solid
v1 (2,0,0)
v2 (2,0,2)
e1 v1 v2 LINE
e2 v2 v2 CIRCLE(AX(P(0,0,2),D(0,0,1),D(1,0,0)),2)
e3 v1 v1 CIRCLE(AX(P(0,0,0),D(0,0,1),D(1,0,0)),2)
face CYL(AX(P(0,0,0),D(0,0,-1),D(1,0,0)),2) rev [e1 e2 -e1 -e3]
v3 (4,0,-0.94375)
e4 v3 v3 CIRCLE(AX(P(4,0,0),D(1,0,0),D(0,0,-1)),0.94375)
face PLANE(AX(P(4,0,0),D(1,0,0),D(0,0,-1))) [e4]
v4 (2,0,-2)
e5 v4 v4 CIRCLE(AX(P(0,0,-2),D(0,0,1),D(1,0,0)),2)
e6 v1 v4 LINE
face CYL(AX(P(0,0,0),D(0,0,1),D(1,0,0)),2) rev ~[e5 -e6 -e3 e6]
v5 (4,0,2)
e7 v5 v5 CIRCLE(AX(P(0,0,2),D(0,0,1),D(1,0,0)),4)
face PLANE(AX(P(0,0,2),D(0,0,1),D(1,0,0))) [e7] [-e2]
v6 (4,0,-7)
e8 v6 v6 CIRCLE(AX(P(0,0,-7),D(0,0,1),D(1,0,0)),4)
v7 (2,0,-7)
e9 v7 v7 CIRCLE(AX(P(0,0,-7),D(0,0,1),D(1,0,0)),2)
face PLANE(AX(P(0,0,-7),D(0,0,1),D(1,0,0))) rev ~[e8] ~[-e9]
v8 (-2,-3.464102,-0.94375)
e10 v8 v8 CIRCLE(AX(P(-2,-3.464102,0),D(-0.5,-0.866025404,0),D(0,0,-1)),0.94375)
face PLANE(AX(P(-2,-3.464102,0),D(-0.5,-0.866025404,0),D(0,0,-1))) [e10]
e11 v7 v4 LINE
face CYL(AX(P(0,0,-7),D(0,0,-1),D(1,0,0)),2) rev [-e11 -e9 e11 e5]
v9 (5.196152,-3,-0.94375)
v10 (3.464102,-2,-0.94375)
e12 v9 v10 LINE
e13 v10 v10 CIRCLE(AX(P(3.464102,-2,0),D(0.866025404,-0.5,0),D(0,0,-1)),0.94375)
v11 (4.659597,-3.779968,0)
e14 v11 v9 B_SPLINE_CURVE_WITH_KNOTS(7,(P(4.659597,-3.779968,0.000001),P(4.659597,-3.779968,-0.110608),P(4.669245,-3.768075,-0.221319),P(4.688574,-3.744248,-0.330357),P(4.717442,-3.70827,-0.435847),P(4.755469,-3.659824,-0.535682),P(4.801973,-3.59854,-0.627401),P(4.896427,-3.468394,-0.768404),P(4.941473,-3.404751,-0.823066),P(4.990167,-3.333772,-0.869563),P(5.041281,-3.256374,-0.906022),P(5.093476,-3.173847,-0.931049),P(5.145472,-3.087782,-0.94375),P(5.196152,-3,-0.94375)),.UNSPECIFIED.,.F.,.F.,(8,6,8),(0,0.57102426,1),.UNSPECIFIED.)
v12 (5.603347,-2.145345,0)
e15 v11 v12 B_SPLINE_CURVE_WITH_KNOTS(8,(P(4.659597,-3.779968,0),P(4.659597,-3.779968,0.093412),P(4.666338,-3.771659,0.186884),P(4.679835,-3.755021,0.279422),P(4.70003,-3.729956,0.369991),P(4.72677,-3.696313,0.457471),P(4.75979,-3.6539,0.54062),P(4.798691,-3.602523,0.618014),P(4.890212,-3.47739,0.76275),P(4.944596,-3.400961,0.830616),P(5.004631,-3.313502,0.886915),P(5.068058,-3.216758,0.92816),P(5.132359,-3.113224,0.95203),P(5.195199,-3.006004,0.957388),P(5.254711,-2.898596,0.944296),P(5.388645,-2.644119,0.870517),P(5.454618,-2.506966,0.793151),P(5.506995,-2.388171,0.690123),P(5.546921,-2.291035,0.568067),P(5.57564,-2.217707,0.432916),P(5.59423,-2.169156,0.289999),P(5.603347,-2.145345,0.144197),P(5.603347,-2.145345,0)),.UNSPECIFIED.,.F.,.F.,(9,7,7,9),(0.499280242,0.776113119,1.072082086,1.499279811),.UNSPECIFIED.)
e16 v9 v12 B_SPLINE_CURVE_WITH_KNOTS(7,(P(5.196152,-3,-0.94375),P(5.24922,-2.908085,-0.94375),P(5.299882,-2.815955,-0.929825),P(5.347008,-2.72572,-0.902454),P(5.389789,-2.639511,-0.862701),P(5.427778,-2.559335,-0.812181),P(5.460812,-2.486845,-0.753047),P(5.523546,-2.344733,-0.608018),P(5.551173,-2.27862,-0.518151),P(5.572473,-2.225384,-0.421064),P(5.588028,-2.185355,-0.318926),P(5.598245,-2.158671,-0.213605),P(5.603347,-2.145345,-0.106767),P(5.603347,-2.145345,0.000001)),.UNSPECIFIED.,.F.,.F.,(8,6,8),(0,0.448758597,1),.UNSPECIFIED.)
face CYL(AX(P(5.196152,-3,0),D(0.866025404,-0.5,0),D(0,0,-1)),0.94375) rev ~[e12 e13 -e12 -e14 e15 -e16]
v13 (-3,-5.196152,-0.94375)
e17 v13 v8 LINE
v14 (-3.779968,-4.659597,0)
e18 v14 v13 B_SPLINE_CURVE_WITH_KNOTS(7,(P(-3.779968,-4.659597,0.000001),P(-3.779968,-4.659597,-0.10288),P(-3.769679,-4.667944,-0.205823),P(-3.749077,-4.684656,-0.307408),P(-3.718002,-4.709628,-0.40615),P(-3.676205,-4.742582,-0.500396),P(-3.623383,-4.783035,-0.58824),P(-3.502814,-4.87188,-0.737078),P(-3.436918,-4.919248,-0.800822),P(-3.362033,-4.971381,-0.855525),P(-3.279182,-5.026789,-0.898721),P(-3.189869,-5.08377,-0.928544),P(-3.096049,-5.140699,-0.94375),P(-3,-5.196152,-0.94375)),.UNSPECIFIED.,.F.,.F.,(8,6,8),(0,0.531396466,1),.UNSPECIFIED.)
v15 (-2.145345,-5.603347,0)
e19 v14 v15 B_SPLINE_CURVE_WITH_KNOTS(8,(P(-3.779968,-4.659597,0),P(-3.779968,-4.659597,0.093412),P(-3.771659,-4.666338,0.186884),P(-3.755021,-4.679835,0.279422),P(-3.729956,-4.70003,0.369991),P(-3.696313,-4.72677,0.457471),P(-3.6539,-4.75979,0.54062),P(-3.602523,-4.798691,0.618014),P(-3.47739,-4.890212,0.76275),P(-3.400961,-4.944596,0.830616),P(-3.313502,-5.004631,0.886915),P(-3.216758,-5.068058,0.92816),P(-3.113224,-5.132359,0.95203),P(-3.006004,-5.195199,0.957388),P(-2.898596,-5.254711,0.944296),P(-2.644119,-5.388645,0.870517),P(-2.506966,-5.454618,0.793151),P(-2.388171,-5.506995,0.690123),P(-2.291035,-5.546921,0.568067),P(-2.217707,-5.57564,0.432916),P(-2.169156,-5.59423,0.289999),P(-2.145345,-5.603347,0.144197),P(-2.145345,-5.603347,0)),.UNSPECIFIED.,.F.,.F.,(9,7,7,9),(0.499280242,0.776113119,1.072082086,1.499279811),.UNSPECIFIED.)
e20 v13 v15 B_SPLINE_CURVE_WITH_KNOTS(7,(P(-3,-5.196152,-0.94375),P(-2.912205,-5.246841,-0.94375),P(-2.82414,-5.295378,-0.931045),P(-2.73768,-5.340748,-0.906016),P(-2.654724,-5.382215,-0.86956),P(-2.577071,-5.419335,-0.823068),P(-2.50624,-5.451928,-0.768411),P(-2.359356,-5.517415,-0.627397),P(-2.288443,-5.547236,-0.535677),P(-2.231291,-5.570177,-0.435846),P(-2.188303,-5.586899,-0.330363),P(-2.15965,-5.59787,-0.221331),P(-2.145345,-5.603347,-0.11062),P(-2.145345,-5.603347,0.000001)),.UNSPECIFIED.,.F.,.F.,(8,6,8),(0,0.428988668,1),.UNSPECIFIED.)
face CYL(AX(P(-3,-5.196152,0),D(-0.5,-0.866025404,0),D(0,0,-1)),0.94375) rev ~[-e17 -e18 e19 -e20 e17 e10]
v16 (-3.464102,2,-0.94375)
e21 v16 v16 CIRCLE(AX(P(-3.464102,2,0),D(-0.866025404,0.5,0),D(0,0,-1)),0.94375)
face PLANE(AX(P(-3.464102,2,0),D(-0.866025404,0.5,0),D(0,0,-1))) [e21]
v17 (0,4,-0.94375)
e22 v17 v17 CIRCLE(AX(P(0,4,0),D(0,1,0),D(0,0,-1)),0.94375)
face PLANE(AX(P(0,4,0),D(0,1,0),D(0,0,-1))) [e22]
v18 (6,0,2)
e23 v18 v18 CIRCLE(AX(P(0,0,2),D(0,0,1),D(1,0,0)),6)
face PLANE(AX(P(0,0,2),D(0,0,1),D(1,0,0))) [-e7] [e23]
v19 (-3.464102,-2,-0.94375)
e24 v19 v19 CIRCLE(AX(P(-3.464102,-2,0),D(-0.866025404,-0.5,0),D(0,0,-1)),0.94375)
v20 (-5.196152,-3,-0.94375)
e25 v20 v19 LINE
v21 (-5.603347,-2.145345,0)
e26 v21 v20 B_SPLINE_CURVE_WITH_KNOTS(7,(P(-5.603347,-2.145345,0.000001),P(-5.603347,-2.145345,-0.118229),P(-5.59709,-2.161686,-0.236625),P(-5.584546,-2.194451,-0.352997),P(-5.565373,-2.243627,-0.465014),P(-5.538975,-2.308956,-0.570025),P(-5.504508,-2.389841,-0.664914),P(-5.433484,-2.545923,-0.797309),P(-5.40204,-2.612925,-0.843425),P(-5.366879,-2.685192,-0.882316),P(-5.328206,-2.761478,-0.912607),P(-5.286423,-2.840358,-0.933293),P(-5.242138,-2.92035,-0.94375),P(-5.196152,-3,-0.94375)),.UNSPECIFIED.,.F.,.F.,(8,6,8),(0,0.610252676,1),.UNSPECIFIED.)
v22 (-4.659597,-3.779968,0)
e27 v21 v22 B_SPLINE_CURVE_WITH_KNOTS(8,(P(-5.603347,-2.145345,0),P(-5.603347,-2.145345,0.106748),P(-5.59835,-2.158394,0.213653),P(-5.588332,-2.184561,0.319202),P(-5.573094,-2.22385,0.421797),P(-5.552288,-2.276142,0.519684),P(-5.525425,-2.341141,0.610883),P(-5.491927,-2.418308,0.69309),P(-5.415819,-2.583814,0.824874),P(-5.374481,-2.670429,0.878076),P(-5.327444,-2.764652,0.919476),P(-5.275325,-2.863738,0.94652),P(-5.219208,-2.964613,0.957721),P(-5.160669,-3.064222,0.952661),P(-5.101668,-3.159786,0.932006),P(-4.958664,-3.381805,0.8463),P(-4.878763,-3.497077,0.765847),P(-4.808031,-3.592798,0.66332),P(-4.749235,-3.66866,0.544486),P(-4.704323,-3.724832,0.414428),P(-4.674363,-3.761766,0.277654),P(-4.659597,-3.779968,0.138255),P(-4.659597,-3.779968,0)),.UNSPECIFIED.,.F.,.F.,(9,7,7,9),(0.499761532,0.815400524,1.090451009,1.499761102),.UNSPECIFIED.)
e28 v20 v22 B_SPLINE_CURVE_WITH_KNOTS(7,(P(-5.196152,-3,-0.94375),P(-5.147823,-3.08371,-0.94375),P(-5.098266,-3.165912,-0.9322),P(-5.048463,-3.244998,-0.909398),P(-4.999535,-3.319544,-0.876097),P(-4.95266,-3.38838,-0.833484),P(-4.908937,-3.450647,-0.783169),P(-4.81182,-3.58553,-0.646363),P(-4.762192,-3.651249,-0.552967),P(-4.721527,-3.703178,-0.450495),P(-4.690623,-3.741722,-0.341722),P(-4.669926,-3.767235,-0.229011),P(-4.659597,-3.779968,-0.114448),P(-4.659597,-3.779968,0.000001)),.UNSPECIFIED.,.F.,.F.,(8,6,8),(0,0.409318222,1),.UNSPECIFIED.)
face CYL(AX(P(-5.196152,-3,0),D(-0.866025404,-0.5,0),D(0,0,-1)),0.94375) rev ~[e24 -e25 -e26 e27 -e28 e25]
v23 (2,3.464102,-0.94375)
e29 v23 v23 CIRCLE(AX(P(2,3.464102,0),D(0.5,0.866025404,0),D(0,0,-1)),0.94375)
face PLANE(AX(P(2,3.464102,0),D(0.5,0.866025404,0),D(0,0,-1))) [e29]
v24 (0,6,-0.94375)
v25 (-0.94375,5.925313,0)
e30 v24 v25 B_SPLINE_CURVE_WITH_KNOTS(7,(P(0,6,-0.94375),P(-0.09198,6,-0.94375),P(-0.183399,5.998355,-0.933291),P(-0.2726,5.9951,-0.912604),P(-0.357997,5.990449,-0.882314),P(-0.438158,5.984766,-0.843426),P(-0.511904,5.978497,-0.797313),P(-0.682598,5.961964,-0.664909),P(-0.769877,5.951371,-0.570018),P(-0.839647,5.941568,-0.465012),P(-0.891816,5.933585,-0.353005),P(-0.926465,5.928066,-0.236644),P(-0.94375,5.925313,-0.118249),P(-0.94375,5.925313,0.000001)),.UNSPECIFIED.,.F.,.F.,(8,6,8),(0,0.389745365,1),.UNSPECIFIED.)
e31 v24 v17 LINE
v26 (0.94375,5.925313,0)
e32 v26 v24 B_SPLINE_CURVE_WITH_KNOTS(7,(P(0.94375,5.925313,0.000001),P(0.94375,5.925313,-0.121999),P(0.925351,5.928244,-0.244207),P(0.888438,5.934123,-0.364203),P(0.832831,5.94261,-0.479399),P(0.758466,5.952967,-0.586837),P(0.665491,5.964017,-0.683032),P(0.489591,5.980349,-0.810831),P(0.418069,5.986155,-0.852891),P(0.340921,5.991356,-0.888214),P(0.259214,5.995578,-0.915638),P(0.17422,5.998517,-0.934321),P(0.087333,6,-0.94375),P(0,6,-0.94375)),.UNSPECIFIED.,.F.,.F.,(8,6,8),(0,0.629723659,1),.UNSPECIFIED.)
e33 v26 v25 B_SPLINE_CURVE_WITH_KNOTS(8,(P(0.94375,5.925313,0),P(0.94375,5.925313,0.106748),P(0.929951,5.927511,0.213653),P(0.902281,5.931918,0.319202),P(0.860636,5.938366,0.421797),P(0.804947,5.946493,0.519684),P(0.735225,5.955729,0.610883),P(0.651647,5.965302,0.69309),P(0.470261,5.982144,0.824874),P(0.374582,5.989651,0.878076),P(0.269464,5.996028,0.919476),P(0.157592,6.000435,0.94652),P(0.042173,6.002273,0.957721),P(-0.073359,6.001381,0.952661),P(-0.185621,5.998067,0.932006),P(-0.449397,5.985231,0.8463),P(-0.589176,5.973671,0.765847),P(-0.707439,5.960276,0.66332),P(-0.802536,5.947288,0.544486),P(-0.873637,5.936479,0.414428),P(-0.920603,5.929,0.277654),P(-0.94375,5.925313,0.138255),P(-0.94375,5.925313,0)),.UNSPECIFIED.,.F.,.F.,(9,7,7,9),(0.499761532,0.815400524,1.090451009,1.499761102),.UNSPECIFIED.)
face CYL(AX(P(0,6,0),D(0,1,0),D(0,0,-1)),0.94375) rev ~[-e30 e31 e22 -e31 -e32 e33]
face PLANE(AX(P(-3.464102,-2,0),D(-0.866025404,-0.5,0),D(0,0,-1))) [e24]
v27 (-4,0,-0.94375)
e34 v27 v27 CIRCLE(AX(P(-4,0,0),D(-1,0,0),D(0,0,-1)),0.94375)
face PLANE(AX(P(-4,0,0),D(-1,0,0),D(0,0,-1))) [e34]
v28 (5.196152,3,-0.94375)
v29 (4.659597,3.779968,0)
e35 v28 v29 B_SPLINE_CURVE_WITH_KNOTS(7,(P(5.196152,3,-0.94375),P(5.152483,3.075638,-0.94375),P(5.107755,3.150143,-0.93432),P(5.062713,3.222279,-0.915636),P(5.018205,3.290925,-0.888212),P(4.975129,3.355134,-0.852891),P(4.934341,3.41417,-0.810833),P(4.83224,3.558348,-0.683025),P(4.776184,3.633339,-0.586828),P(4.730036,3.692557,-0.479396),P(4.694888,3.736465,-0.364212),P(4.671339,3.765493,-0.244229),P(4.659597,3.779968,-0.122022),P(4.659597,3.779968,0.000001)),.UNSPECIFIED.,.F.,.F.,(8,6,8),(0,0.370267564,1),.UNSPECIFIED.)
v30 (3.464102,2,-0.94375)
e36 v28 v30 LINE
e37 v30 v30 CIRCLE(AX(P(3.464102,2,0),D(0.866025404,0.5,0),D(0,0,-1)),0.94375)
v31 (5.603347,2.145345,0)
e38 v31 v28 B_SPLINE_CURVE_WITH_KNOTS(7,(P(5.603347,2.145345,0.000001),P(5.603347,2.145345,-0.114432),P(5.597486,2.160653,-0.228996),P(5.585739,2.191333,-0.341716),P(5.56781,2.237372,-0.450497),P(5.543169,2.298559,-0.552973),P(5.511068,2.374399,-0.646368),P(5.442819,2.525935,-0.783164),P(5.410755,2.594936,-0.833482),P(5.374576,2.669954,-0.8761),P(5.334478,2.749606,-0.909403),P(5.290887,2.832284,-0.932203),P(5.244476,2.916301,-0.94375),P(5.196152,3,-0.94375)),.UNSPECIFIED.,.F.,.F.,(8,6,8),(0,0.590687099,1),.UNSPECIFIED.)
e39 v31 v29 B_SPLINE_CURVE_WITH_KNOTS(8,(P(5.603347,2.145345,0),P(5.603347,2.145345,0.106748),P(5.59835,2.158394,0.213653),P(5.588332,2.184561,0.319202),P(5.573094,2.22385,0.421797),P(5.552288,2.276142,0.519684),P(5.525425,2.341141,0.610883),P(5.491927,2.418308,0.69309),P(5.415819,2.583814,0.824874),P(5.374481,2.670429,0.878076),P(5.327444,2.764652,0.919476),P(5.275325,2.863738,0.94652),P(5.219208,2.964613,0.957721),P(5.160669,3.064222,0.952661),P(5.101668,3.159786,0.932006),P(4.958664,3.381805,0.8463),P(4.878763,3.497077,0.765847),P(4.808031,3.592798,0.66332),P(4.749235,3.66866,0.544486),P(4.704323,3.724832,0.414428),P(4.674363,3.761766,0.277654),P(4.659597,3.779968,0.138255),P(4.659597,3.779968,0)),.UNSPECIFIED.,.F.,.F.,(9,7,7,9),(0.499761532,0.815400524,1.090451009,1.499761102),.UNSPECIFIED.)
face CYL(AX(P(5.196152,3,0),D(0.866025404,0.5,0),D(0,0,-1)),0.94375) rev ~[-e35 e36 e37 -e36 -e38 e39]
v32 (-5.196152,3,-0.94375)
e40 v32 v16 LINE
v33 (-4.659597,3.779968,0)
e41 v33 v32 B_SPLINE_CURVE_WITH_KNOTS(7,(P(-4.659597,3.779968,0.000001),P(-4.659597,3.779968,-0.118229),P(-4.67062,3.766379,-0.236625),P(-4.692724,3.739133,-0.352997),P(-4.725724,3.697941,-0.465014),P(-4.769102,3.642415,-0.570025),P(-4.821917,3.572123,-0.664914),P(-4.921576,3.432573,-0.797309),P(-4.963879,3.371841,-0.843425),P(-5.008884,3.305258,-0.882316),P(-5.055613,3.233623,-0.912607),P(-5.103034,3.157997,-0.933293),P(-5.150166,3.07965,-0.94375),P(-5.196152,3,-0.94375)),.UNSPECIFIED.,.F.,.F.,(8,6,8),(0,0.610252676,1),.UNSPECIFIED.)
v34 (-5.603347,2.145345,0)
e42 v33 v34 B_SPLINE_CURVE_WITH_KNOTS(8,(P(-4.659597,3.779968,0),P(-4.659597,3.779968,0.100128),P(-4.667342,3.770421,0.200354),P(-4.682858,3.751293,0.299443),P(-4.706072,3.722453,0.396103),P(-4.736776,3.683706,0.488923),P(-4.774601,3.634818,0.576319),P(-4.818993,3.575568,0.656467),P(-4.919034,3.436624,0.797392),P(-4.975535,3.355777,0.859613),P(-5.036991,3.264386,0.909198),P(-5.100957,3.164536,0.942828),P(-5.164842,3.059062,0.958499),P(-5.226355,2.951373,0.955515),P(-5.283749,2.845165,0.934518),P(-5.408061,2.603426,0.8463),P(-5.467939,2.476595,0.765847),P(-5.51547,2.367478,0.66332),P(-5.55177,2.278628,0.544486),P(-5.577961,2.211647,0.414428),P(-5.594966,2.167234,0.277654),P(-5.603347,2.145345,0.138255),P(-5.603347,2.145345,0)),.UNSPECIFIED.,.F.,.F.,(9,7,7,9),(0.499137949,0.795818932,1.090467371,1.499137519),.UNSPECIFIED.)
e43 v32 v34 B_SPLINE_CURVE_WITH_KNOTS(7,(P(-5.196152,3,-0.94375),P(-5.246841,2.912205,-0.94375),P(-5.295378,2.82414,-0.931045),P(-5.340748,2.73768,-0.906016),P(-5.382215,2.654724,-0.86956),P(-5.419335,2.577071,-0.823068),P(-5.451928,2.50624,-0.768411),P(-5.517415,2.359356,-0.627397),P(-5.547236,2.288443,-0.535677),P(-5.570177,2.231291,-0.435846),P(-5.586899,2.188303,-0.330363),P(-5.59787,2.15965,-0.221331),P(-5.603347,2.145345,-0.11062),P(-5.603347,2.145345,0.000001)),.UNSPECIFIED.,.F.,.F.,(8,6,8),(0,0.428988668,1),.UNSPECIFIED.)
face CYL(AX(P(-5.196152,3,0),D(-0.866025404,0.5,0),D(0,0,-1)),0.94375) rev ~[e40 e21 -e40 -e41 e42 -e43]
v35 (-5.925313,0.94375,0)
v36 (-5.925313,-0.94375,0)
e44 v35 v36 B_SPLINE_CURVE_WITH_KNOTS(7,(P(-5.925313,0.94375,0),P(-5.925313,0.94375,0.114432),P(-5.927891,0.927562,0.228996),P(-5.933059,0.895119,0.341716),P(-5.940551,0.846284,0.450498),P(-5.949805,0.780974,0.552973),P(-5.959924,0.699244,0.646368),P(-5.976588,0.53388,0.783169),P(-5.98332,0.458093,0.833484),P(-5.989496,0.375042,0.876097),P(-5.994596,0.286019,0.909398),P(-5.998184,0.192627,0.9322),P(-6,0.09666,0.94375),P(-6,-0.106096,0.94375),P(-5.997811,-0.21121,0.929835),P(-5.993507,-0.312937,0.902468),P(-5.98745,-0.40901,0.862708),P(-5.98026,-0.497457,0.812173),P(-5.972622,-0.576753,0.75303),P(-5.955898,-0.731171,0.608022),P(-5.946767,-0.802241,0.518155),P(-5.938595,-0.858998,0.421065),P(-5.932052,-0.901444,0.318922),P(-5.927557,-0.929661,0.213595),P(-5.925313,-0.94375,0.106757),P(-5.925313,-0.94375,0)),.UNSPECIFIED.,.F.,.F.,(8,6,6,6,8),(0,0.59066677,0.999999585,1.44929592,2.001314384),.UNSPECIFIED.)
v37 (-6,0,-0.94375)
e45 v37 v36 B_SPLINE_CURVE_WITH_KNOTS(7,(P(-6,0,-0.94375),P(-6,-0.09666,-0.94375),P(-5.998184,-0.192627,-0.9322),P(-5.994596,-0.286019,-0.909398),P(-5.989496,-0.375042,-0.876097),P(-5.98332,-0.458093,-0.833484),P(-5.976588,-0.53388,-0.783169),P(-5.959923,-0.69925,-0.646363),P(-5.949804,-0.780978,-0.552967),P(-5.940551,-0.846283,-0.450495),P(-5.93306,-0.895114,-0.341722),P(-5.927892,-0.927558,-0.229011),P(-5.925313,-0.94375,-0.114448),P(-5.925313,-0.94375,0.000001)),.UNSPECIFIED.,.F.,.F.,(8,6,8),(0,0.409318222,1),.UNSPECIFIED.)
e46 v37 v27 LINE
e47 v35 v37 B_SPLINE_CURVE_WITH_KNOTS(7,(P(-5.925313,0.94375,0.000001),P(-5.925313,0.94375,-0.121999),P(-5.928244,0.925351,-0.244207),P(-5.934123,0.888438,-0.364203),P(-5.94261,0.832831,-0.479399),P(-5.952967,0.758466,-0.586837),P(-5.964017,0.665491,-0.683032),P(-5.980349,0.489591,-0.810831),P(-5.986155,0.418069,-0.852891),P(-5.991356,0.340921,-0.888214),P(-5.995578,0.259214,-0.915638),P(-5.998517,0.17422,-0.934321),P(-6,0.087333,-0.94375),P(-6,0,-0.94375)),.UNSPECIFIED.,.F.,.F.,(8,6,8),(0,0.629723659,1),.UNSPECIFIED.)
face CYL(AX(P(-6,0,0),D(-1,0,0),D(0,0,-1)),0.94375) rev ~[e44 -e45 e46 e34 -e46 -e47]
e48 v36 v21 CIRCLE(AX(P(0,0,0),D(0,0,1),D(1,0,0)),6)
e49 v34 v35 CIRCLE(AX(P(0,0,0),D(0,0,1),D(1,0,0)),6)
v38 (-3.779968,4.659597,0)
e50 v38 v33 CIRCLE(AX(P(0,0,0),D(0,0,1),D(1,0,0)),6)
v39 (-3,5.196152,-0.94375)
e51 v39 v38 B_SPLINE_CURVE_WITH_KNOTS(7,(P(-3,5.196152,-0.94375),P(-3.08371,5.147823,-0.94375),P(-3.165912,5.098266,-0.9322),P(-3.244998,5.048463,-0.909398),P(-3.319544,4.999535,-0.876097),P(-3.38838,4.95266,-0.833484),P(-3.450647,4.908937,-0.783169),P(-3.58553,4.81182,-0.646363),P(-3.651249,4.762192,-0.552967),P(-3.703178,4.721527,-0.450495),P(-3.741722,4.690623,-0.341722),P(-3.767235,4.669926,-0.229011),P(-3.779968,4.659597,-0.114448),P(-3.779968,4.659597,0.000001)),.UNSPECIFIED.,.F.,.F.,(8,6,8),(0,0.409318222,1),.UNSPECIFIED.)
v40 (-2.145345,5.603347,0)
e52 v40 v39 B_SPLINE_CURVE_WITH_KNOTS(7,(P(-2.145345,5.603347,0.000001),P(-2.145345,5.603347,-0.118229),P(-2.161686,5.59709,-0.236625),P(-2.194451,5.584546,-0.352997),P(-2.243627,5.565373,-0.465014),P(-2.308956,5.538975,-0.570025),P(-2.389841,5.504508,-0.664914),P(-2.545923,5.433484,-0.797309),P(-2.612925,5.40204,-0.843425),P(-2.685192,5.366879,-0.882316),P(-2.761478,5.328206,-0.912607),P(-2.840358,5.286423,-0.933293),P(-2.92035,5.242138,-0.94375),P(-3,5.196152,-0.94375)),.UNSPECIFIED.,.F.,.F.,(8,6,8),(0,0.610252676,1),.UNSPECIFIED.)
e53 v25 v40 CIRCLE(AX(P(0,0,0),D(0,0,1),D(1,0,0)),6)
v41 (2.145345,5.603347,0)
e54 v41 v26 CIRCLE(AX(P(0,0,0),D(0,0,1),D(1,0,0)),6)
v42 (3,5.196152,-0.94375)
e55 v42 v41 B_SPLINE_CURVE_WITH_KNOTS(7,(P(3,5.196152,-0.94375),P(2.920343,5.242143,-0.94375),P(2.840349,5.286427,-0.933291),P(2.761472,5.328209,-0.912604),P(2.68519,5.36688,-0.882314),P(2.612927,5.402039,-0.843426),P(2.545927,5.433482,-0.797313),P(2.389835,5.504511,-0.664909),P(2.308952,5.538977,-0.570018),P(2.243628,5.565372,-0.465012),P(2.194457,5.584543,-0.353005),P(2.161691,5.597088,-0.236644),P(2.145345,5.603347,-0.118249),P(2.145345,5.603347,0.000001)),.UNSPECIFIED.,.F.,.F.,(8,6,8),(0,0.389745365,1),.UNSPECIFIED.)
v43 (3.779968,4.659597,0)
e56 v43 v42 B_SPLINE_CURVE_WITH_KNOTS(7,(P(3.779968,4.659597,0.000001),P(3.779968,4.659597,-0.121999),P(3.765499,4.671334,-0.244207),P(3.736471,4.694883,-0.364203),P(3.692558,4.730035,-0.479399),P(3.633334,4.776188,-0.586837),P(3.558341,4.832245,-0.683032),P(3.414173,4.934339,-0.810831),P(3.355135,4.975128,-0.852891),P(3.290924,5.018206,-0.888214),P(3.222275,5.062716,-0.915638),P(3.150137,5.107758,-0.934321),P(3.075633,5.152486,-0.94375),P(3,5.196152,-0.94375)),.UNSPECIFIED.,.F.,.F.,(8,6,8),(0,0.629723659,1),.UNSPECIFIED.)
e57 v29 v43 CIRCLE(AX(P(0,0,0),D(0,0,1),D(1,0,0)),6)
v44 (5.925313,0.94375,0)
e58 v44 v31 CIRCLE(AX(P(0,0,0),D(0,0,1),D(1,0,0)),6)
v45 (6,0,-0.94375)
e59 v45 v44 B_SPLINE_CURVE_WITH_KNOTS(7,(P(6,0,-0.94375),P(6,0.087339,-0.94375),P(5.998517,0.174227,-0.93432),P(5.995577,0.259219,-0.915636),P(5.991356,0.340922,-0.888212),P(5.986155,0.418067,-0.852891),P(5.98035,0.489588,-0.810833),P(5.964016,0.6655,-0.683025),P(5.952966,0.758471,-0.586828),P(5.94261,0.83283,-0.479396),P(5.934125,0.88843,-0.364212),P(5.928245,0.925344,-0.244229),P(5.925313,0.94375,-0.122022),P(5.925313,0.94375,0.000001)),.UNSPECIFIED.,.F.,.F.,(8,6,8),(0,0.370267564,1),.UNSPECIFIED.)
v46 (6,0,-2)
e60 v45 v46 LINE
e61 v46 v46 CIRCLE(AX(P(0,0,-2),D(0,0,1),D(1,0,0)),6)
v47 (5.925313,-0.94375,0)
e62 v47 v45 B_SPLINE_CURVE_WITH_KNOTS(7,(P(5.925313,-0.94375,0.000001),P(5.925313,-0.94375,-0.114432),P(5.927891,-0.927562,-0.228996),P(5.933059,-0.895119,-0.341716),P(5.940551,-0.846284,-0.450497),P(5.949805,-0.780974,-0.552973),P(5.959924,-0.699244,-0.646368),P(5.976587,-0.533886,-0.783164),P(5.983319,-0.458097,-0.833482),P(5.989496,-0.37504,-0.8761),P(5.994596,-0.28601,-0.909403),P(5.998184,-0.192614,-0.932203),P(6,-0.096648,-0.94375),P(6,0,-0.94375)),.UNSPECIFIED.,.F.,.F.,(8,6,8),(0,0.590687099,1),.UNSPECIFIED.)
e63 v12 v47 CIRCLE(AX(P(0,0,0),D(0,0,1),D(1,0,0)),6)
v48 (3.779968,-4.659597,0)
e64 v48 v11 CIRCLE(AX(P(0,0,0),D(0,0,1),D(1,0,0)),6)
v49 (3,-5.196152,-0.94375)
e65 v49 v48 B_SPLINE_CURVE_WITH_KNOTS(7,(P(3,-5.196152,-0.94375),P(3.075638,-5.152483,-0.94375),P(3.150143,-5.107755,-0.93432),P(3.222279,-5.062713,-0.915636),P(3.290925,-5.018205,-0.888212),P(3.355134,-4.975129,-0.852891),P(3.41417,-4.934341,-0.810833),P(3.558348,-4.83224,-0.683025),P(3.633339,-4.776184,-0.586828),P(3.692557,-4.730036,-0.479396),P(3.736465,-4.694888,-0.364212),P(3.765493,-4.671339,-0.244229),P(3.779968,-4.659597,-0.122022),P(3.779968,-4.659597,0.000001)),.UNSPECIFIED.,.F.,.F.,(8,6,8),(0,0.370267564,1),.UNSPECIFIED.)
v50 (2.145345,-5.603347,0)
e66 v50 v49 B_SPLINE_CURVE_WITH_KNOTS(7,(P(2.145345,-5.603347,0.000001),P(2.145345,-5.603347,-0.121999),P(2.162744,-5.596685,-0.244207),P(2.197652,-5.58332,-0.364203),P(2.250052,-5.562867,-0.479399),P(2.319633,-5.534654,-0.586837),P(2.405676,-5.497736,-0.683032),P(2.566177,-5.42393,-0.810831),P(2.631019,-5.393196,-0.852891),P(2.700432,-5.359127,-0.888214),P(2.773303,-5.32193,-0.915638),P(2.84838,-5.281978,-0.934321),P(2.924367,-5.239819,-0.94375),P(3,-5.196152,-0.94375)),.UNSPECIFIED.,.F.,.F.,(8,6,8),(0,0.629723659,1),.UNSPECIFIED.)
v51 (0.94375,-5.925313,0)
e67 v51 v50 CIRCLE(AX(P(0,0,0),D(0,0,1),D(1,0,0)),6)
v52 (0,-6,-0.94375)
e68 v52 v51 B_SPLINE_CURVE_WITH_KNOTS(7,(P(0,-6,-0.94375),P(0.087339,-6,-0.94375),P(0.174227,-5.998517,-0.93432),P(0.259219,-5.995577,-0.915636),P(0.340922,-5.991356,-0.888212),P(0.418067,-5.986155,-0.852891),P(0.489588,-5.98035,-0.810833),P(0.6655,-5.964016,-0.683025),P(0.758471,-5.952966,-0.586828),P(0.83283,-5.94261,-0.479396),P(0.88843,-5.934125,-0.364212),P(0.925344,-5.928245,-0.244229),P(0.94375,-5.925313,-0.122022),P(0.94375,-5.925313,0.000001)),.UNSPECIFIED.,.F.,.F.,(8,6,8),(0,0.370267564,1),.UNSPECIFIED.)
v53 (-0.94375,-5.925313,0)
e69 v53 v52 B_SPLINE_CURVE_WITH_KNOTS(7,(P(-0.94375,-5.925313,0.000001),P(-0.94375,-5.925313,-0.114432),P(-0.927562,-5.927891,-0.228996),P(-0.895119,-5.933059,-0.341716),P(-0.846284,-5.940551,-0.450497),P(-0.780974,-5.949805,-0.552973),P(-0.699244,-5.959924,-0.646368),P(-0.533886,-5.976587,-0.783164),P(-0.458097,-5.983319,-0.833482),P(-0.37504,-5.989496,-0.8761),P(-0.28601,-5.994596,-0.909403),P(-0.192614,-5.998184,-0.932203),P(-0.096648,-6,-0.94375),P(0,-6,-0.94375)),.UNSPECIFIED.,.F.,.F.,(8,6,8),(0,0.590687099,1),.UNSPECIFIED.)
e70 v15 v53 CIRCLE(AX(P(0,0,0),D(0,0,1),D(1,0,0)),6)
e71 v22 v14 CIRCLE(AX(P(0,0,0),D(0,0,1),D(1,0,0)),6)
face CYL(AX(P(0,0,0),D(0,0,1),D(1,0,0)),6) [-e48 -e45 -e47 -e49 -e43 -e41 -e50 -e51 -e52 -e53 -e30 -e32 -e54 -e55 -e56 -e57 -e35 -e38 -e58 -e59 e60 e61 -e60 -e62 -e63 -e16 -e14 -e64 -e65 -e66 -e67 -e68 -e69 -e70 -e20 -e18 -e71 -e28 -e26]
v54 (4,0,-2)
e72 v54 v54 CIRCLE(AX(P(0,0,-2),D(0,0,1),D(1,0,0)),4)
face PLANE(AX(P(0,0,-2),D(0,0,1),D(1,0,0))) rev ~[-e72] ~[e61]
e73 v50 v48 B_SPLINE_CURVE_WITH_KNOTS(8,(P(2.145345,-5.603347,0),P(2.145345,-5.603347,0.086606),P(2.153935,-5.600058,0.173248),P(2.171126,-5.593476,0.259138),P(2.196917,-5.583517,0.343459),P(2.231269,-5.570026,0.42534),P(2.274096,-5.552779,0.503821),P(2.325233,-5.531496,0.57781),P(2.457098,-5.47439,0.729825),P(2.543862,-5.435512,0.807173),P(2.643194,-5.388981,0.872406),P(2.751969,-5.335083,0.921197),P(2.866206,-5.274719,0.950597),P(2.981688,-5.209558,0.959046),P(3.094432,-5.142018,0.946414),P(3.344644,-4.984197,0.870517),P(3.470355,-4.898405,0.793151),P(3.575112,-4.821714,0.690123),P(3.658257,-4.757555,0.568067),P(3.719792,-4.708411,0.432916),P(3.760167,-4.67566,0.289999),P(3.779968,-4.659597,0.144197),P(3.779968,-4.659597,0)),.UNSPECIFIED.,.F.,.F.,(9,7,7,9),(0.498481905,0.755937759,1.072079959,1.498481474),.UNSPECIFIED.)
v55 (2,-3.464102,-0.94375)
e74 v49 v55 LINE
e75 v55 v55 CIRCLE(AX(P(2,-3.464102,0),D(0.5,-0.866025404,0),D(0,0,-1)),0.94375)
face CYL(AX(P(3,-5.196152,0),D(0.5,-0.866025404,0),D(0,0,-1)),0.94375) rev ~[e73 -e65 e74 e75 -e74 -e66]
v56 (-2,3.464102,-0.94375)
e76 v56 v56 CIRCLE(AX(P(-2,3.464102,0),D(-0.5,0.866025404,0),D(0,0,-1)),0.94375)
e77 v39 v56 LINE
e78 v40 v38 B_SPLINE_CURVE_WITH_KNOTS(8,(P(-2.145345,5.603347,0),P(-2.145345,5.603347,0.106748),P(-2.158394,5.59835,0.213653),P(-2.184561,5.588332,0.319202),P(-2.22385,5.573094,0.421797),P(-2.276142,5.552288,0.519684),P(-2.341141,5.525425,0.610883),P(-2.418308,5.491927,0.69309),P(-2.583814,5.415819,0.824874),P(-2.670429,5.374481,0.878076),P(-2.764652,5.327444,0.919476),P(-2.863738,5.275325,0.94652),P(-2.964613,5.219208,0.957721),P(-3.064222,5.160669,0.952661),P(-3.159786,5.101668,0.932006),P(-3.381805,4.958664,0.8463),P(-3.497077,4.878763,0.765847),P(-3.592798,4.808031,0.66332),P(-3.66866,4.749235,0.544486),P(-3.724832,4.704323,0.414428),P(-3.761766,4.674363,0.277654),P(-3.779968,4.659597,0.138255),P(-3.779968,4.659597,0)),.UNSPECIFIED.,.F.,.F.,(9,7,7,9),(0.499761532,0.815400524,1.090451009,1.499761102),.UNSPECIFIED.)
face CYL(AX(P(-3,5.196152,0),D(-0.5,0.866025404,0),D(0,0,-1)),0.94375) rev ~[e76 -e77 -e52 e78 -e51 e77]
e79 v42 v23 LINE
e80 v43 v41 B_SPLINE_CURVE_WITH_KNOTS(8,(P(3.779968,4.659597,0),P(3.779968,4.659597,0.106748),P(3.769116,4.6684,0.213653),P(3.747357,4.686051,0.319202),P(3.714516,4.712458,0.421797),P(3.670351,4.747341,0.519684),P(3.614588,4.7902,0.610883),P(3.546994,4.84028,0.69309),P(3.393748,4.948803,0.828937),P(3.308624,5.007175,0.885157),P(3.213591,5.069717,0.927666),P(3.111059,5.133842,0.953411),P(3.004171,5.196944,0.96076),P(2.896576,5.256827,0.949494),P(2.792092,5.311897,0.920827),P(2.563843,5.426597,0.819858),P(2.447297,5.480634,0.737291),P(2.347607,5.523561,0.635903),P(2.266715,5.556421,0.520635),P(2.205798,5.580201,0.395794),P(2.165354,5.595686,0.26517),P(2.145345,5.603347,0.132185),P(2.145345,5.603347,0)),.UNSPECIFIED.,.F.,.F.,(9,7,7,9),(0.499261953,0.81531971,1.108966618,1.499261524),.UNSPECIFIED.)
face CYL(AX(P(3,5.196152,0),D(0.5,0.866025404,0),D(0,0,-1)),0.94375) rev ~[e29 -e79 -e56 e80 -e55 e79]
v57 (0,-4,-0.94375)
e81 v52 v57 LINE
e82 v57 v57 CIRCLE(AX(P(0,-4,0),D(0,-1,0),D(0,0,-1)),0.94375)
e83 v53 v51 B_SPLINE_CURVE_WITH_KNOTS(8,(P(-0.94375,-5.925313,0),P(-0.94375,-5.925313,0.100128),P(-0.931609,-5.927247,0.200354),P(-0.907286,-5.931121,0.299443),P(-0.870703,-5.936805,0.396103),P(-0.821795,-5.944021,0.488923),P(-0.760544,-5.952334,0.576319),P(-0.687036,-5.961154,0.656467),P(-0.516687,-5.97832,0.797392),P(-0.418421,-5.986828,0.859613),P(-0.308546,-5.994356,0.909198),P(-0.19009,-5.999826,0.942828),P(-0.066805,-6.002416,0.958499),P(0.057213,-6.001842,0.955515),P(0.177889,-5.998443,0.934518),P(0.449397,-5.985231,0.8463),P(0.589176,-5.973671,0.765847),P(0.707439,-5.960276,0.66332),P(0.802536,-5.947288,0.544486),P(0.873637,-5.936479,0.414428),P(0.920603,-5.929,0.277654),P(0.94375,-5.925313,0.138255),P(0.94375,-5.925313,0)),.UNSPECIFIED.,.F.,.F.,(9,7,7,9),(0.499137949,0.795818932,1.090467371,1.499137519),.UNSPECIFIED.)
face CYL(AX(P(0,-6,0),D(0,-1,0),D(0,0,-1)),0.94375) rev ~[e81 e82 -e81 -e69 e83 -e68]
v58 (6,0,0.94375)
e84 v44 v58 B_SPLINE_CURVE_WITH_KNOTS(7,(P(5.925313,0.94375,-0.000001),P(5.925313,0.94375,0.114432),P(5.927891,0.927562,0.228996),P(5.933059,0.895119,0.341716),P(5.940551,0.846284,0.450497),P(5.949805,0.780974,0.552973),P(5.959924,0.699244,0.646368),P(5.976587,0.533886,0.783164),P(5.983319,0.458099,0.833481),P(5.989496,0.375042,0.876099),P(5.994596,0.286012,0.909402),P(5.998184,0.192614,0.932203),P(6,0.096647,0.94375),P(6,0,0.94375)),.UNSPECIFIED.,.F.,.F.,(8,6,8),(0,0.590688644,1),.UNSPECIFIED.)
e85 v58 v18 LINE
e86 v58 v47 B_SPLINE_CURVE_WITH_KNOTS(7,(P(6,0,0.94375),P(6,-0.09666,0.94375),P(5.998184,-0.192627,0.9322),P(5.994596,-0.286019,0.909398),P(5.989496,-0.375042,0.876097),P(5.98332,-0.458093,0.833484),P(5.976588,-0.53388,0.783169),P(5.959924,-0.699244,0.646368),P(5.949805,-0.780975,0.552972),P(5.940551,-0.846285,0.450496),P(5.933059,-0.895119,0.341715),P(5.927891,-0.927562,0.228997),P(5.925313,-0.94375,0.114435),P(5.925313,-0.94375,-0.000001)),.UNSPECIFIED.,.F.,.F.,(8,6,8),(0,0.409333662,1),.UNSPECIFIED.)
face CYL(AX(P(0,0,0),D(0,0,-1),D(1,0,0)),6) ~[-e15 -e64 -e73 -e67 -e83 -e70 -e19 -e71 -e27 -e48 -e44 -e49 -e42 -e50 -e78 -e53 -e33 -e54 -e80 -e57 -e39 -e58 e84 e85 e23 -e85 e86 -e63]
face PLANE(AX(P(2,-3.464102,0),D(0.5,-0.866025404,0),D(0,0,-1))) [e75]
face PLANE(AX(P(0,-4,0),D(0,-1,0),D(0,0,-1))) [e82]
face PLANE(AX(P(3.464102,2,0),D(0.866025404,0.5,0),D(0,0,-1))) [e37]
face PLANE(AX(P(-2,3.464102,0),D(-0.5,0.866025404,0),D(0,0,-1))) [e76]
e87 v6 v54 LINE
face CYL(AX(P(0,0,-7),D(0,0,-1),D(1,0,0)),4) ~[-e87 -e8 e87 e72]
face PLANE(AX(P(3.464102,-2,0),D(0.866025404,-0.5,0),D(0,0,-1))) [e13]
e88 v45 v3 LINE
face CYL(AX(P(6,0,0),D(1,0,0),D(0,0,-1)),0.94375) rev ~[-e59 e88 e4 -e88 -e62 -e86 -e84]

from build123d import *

# Parameters (mm, degrees)
SKETCH1_R           = 6
SKETCH1_R_2         = 4
SKETCH1_R_3         = 2
BOSS_EXTRUDE1_DEPTH = 2
SKETCH3_R           = 0.94375
CUT_EXTRUDE1_DEPTH  = 2
CIRPATTERN1_COUNT   = 12
BOSS_EXTRUDE2_START = -7
SKETCH1_3_R         = 4
SKETCH1_3_R_2       = 2
BOSS_EXTRUDE2_DEPTH = 5


with BuildPart() as part:
    # Sketch1 → Boss-Extrude1 (new, symmetric)
    # profile 1 of 2: a face of its own
    with BuildSketch(Plane.XY):
        Circle(SKETCH1_R)
        Circle(SKETCH1_R_2, mode=Mode.SUBTRACT)
    # profile 2 of 2: a face of its own
    with BuildSketch(Plane.XY):
        Circle(SKETCH1_R_2)
        Circle(SKETCH1_R_3, mode=Mode.SUBTRACT)
    extrude(amount=BOSS_EXTRUDE1_DEPTH, both=True)

    # Sketch3 → Cut-Extrude1 (cut)
    with BuildSketch(Plane(origin=(0, -6, 0), x_dir=(-1, 0, 0), z_dir=(0, -1, 0))):
        with Locations(Location((0, 0, 0), (0, 0, 90))):
            Circle(SKETCH3_R)
    cut_extrude1 = extrude(amount=-CUT_EXTRUDE1_DEPTH, mode=Mode.SUBTRACT)

    # CirPattern1: Cut-Extrude1 ×12 about axis
    cirpattern1_axis = Axis((0, 0, 0), (0, 0, 1))
    for i in range(1, CIRPATTERN1_COUNT):
        add(cut_extrude1.rotate(cirpattern1_axis, i * 360 / CIRPATTERN1_COUNT), mode=Mode.SUBTRACT)

    # Sketch1<3> → Boss-Extrude2 (add)
    with BuildSketch(Plane.XY.offset(BOSS_EXTRUDE2_START)):
        Circle(SKETCH1_3_R)
        Circle(SKETCH1_3_R_2, mode=Mode.SUBTRACT)
    extrude(amount=BOSS_EXTRUDE2_DEPTH)


solid = part.part
